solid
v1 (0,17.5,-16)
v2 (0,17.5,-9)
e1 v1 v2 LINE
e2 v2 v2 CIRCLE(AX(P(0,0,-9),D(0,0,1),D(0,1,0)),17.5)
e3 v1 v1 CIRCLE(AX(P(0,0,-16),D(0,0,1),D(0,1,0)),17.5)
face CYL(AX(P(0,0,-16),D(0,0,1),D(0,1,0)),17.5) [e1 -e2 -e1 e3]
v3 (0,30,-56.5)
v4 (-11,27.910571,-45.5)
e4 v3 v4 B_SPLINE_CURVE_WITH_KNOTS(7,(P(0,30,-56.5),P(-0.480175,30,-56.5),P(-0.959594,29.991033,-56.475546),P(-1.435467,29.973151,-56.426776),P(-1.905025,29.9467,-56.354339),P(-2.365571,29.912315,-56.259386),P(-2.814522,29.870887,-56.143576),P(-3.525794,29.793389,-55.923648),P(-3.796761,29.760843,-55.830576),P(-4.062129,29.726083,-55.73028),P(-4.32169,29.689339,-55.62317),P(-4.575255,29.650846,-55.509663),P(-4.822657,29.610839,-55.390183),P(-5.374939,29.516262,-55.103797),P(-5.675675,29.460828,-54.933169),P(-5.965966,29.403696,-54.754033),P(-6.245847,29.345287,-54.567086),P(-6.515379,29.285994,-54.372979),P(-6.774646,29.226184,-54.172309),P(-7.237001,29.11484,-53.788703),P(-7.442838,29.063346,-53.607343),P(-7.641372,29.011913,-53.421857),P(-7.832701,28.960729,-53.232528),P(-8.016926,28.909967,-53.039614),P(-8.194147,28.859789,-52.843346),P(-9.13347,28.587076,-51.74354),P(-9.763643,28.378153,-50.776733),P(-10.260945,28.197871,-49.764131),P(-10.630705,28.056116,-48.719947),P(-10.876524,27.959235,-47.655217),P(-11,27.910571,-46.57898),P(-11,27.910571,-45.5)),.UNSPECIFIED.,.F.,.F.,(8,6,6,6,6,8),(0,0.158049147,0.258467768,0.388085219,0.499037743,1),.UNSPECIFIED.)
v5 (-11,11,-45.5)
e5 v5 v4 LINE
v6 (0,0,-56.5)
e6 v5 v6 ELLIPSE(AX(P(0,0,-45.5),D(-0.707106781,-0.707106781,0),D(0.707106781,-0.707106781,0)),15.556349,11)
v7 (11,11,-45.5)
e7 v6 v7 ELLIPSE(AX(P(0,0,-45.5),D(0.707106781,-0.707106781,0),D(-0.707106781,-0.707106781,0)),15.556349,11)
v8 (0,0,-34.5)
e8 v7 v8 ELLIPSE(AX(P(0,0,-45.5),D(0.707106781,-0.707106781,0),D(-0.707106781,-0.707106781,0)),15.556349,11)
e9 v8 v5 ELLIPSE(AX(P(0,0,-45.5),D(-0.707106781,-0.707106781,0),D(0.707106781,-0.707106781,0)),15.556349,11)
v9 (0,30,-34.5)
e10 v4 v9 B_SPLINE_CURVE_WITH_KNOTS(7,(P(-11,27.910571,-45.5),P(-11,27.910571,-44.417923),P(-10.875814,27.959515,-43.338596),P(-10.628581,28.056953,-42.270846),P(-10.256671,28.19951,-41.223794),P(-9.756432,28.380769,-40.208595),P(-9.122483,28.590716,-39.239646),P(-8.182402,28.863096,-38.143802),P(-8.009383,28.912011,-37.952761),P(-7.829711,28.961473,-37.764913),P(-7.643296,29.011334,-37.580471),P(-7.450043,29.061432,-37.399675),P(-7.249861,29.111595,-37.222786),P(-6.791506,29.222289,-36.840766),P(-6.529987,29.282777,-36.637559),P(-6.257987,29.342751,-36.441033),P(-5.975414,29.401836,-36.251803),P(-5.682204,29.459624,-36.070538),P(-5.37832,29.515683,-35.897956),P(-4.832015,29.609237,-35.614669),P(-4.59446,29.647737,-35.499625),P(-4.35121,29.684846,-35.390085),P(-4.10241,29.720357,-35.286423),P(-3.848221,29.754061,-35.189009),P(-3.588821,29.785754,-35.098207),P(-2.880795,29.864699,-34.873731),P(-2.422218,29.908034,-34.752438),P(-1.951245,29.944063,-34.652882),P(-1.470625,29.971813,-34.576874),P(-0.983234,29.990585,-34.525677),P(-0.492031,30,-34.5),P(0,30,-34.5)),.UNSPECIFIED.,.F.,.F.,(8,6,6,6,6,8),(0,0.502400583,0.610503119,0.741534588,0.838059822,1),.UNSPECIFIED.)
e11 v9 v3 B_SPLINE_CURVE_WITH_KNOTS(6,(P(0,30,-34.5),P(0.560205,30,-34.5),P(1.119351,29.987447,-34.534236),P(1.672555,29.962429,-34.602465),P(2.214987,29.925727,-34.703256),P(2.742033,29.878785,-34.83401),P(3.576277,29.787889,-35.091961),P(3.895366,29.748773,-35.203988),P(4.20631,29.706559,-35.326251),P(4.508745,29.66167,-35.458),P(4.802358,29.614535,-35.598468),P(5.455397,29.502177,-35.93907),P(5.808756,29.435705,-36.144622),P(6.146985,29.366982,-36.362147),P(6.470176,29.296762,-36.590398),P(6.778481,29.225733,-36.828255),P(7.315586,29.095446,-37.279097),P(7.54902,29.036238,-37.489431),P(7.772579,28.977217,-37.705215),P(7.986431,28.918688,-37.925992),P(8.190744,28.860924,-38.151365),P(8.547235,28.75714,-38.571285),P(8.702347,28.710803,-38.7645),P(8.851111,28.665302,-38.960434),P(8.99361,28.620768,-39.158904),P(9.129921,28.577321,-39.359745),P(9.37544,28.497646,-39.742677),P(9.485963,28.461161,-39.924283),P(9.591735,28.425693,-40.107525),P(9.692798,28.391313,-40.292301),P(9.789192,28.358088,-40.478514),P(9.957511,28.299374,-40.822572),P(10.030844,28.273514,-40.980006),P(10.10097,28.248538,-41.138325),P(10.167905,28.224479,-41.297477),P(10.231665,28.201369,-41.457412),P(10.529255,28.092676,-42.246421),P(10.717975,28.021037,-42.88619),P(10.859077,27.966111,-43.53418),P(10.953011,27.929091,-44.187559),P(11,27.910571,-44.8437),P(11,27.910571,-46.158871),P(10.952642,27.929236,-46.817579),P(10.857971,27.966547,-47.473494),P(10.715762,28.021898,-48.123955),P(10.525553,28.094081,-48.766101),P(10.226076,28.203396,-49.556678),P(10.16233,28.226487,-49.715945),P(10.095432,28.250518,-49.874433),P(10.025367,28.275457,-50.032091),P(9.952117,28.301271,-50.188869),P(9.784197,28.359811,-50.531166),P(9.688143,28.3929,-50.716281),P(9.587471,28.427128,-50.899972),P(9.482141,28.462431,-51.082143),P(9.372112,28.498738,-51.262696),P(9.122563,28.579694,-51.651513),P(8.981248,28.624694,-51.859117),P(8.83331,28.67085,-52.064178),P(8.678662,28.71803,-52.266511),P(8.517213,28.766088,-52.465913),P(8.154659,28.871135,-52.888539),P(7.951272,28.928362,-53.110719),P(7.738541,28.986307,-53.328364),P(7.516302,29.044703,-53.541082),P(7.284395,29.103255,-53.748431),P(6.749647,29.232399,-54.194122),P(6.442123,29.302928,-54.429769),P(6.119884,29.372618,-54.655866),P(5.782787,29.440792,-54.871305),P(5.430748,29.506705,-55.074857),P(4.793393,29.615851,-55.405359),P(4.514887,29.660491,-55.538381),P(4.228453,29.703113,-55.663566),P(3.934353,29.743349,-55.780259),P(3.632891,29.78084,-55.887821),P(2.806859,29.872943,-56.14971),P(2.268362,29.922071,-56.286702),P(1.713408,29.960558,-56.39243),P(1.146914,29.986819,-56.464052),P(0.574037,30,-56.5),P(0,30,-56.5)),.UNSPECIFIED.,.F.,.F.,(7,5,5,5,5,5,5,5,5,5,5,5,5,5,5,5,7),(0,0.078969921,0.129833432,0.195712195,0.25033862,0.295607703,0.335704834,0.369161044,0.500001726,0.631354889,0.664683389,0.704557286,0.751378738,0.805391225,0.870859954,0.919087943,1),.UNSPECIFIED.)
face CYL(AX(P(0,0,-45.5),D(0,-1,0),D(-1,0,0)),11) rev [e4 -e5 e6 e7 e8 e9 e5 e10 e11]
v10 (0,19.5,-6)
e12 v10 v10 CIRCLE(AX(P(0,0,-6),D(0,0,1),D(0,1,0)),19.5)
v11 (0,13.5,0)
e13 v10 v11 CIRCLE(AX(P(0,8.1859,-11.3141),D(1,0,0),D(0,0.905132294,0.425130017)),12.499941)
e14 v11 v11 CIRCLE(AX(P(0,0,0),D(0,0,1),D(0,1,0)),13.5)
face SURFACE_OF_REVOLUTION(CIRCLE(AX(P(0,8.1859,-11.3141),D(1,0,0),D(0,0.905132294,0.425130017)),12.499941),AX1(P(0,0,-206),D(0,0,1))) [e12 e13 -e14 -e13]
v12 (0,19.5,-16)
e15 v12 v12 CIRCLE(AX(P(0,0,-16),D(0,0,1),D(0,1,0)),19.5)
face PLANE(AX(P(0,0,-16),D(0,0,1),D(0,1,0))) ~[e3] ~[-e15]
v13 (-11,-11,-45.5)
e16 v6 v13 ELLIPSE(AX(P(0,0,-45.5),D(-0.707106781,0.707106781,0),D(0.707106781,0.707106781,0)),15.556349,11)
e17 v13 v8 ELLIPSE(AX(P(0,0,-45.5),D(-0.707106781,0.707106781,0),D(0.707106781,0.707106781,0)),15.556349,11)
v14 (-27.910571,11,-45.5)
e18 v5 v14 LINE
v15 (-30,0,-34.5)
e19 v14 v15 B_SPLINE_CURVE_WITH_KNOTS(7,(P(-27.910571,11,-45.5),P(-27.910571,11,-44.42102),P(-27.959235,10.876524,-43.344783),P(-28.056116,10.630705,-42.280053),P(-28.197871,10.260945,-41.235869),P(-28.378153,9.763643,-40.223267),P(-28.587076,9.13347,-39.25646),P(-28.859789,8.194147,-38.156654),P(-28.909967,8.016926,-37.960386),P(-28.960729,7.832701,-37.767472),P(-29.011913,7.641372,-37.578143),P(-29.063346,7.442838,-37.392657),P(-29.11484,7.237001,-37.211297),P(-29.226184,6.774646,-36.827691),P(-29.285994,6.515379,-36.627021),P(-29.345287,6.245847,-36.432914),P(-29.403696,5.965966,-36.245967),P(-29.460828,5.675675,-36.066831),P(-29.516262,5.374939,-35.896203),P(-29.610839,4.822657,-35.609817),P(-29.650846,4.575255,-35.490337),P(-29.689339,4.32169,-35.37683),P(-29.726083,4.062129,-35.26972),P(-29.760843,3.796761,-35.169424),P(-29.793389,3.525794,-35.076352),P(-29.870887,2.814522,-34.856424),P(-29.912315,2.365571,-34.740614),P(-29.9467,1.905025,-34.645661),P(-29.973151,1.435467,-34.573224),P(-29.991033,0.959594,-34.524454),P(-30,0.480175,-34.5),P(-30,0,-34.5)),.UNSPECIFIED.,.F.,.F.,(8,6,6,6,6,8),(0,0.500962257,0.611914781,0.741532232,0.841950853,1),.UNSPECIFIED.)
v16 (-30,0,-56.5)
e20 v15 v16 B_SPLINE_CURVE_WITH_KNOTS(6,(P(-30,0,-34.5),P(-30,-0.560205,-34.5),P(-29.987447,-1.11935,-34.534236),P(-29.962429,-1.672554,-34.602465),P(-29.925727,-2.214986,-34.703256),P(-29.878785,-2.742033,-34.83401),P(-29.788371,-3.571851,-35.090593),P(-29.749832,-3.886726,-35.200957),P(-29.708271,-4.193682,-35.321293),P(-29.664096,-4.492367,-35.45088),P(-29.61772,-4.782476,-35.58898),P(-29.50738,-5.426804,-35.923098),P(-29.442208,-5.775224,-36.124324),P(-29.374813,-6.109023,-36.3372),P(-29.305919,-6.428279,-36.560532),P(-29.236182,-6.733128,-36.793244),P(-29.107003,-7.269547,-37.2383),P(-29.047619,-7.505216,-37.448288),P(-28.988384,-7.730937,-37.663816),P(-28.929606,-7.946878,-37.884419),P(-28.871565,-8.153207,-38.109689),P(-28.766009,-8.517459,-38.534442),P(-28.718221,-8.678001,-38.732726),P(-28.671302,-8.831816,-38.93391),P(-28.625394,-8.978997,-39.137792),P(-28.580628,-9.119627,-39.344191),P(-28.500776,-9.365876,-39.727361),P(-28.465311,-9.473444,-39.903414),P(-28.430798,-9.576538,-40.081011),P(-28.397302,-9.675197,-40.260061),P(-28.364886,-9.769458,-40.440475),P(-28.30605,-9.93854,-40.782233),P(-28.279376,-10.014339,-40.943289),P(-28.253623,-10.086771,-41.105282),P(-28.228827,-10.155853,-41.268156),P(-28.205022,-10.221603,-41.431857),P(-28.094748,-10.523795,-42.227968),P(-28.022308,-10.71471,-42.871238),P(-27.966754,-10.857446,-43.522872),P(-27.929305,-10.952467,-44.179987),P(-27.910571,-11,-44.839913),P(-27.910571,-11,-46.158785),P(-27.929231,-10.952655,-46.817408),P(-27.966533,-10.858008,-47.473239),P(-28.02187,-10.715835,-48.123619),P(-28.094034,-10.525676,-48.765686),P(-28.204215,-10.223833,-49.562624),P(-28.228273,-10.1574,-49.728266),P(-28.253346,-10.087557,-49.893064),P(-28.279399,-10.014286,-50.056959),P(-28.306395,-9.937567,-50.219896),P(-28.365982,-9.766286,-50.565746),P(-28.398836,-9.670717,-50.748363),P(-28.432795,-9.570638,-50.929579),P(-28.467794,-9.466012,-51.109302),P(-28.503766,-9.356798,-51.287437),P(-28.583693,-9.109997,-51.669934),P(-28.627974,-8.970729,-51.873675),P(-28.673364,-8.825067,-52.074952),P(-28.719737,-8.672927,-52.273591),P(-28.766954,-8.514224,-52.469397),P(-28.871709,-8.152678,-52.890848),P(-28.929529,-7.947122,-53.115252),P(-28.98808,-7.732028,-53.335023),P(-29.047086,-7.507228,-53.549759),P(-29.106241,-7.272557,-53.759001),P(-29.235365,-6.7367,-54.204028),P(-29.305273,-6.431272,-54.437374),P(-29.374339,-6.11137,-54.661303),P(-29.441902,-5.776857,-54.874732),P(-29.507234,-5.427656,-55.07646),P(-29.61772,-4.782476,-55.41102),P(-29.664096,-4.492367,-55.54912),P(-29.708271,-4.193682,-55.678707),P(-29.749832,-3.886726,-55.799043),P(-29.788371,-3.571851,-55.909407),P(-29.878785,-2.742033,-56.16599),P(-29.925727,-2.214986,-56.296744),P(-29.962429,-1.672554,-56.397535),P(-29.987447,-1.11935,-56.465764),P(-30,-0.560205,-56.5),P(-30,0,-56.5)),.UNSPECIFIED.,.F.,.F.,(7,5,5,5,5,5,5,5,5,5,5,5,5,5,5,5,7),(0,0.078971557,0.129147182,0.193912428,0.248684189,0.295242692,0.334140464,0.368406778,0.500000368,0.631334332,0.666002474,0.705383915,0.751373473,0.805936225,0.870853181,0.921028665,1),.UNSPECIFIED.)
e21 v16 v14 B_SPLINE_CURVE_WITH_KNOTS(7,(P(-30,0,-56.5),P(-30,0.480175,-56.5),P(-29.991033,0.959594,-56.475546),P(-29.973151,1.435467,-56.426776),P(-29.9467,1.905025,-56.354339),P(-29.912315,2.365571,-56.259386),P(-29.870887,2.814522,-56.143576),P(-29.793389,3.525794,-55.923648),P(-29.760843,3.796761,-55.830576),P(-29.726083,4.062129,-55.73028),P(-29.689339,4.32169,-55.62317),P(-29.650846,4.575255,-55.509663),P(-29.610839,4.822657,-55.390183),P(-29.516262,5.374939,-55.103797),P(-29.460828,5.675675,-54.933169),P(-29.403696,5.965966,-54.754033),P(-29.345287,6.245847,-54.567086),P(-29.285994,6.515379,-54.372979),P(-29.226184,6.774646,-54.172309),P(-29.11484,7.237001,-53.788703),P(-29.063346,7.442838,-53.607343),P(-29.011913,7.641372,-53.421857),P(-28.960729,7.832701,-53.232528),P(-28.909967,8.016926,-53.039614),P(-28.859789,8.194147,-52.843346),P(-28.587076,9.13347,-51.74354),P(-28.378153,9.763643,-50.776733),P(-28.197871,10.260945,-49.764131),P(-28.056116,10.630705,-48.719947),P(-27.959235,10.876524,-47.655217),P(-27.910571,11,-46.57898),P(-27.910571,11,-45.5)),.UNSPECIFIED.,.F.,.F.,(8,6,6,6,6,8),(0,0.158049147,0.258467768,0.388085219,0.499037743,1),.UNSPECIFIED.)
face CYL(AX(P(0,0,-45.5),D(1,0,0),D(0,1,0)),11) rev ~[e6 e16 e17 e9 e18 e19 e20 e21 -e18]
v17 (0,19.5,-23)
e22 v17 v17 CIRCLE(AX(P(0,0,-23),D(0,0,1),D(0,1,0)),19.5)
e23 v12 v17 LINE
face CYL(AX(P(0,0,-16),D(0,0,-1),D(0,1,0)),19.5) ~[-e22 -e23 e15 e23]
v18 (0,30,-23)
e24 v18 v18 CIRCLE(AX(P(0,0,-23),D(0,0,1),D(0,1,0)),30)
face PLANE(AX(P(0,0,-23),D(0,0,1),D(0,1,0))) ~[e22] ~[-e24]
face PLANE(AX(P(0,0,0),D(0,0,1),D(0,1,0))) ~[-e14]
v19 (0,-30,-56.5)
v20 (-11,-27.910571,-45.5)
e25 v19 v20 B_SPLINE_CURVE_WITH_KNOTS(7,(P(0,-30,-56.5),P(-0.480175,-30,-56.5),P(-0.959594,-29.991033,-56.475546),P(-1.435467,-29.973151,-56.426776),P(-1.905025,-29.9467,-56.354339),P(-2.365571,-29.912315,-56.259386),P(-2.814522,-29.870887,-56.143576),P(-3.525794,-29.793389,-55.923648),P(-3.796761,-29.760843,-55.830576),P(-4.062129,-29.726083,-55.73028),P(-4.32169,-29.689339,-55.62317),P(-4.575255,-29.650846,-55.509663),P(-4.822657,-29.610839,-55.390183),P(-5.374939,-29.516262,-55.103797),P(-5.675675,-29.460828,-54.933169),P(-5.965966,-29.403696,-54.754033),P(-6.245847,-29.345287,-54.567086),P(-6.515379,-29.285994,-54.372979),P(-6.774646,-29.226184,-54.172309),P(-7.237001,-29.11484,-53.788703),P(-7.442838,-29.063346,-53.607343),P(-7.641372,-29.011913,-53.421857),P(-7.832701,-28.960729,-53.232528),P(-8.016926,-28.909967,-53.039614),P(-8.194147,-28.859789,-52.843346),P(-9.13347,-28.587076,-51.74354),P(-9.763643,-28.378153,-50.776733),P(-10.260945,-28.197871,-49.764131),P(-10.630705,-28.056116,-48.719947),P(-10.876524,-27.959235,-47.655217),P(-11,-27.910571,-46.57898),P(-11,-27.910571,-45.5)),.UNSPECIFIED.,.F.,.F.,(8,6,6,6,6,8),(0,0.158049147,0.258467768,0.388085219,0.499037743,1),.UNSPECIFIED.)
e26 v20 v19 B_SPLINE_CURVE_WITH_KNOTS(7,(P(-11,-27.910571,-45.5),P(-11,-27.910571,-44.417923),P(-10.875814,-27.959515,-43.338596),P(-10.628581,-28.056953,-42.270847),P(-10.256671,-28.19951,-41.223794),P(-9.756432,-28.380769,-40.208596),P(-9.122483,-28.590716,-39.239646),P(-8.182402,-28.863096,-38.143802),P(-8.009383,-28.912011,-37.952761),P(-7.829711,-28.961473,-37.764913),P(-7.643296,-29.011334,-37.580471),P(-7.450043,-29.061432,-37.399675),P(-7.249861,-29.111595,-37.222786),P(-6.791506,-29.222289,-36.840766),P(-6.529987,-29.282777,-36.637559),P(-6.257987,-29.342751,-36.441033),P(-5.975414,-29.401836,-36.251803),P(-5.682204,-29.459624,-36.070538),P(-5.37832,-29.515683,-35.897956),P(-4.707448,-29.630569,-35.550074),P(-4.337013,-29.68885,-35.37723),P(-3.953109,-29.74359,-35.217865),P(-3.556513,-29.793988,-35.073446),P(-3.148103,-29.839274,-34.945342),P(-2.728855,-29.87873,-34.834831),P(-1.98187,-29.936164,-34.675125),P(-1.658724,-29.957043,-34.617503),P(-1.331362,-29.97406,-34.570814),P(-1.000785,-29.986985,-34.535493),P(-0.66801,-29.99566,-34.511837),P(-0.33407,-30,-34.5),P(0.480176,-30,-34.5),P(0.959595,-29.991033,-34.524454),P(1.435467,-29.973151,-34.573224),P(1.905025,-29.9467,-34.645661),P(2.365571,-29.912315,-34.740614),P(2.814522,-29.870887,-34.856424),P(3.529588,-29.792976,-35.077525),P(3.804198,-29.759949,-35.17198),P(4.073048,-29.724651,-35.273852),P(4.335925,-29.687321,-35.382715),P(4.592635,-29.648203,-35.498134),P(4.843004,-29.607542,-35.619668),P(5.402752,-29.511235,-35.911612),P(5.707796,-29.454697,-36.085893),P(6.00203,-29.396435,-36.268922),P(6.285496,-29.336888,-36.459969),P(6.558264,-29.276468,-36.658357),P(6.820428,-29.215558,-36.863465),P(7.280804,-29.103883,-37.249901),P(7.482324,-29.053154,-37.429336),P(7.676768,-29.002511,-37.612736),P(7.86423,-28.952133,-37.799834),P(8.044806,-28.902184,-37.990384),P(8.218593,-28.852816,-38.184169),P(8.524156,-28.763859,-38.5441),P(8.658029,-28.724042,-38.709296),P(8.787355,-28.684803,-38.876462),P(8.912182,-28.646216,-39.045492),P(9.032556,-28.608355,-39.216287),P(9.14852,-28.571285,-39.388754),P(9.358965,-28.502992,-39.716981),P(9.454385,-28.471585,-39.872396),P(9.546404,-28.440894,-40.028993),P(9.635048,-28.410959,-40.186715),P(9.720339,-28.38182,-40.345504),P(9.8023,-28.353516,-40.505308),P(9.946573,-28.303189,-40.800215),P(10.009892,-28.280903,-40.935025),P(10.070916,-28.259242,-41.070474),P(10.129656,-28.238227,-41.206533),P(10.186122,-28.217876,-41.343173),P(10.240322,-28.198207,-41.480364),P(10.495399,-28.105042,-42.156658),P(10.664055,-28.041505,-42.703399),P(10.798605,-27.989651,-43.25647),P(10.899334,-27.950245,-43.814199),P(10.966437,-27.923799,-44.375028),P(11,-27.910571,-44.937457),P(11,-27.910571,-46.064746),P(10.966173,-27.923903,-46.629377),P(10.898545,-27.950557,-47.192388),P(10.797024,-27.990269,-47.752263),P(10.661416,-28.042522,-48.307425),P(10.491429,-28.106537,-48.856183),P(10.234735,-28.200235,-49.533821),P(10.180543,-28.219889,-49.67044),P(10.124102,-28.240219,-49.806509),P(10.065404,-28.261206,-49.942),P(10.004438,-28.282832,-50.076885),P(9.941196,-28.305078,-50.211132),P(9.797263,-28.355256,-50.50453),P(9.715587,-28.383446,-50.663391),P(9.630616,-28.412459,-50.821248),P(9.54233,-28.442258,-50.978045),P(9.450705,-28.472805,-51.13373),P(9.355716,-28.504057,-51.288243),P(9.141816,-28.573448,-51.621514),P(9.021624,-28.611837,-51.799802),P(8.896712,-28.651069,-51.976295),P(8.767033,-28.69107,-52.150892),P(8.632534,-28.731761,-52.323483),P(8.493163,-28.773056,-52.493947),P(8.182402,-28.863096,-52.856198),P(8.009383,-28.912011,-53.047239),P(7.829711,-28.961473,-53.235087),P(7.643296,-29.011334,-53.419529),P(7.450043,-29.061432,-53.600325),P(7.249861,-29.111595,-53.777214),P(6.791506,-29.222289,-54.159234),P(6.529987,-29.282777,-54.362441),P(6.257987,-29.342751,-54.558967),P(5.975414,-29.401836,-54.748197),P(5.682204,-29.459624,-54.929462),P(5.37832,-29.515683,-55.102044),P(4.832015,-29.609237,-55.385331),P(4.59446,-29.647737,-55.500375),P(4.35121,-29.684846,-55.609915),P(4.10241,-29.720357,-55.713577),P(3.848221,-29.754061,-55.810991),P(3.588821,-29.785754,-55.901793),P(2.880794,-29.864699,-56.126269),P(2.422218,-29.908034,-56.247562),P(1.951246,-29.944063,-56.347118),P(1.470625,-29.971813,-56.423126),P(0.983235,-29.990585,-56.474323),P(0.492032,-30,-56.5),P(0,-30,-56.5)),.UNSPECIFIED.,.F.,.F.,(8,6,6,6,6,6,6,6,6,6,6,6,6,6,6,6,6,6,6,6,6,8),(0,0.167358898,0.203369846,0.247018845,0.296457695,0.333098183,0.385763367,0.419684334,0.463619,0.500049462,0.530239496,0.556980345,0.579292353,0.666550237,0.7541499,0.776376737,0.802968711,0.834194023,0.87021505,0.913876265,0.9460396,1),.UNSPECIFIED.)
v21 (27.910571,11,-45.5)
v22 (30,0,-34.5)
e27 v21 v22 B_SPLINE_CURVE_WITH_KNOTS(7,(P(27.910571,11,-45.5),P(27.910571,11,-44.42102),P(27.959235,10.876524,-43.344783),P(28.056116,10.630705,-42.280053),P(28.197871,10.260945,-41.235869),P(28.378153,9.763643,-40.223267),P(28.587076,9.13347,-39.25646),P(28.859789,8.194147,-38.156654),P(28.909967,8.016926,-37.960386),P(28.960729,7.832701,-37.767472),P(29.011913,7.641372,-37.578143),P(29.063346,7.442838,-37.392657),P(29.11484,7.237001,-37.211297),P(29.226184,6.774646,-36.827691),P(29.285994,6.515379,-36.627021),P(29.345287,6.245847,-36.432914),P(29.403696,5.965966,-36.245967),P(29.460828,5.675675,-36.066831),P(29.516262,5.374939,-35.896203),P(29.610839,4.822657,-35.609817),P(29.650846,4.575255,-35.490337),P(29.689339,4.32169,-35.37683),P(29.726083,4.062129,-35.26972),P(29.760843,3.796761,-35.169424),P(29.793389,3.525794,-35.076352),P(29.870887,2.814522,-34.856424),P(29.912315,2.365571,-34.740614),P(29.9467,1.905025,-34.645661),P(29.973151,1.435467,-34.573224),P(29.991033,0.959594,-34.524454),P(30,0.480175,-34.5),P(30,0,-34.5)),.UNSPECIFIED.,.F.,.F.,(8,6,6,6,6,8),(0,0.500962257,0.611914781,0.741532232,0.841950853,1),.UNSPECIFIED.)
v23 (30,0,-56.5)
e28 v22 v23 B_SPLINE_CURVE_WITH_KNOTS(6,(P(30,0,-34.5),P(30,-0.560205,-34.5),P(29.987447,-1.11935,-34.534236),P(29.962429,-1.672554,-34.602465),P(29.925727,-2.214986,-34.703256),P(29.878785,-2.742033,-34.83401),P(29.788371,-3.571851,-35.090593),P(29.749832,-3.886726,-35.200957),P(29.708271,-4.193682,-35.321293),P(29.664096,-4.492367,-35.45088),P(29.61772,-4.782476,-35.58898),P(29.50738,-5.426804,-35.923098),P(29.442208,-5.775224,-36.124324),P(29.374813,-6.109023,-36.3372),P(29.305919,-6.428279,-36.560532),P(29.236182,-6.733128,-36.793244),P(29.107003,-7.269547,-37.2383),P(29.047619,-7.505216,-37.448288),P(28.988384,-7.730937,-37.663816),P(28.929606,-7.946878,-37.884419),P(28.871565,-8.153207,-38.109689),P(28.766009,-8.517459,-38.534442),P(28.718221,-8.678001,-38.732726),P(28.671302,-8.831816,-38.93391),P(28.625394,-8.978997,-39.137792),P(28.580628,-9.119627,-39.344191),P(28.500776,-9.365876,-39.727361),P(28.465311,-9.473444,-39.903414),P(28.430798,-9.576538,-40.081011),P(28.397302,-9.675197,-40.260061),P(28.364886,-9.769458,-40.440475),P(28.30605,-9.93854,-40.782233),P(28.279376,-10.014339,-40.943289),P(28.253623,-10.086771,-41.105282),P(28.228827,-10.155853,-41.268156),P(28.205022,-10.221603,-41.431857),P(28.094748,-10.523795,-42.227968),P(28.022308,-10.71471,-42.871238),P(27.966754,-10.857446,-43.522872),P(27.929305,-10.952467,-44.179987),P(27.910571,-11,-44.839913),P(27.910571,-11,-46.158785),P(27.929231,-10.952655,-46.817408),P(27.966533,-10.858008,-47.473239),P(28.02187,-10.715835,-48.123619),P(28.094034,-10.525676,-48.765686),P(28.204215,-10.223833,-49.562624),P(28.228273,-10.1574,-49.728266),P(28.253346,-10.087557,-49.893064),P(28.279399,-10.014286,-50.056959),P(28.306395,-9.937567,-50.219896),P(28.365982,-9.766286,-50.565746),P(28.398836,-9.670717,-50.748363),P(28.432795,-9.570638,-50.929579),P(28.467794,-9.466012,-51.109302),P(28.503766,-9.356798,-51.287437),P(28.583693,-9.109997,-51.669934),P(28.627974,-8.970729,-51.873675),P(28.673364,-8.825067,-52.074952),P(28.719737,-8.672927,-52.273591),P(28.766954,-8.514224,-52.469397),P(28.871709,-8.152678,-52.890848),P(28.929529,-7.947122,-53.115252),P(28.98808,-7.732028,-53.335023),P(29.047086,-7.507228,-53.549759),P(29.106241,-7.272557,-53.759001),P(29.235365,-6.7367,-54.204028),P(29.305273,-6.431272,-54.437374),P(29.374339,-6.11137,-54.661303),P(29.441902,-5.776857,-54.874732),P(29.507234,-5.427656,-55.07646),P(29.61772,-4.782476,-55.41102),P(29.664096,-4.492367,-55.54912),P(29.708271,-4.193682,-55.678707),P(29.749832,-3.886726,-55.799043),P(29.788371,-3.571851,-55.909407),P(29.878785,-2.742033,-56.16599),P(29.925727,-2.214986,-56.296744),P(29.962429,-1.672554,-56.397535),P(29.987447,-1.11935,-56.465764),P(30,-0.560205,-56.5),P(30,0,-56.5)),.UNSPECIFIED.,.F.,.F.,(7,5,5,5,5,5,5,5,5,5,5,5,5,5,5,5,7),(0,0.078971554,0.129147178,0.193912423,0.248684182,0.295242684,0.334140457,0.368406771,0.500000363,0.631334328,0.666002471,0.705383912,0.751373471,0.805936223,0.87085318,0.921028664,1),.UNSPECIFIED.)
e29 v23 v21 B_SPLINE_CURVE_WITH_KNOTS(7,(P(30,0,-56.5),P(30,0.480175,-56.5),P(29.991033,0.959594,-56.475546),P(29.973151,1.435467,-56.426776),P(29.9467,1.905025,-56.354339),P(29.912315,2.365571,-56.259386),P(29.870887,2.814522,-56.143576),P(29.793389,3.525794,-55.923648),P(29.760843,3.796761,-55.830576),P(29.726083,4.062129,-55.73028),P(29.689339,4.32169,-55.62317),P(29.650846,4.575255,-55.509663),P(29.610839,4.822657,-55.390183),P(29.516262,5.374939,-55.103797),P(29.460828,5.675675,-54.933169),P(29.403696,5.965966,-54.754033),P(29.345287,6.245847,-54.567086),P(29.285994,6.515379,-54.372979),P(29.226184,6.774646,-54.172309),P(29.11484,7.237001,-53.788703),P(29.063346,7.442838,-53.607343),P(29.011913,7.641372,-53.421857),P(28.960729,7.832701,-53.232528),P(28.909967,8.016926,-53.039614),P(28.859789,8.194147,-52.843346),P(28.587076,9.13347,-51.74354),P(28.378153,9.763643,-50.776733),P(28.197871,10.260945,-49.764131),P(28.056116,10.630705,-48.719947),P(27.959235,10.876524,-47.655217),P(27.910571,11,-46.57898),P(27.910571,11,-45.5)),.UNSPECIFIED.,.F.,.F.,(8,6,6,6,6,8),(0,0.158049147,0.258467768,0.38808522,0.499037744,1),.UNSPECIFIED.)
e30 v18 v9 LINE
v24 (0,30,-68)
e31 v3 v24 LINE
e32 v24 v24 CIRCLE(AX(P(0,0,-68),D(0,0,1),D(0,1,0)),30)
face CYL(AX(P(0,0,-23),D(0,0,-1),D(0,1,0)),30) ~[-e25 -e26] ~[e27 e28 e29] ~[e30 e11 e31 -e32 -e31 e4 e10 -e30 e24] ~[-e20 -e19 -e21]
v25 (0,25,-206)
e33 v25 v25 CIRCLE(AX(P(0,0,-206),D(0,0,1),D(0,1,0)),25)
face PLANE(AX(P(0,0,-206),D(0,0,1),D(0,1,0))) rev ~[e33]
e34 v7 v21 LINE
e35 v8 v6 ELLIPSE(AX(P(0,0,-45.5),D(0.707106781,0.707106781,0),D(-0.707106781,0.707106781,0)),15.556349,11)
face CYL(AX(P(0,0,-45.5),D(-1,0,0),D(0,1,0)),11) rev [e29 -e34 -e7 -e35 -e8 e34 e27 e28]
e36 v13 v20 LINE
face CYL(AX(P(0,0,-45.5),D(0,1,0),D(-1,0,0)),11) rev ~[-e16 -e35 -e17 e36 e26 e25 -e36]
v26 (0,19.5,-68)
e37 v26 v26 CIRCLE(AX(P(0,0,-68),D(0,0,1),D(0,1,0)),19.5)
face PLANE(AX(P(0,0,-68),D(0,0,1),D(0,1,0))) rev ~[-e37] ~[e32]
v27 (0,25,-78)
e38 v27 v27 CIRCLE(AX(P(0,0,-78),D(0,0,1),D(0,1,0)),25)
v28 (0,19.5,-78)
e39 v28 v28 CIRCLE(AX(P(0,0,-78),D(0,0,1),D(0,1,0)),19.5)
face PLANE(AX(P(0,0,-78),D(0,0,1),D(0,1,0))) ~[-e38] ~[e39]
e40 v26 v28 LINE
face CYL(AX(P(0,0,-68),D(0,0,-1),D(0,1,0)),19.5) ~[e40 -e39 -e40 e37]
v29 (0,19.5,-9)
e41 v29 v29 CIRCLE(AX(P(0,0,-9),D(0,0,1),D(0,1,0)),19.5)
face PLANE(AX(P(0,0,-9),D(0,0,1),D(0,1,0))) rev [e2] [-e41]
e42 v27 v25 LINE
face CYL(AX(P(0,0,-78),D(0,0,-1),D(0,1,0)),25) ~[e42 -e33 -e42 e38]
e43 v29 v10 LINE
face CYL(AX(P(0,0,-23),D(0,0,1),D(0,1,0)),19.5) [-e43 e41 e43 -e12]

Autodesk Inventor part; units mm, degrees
ref_plane "YZ Plane" through (0, 0, 0) normal (1, 0, 0) x (0, 1, 0)
ref_plane "XZ Plane" through (0, 0, 0) normal (0, 1, 0) x (-1, 0, 0)
ref_plane "XY Plane" through (0, 0, 0) normal (0, 0, 1) x (1, 0, 0)
sketch "草图1" plane through (0, 0, 0) normal (1, 0, 0) x (0, 1, 0)
  line L0 (19.5, -23) -> (30, -23)
  line L1 (30, -23) -> (30, -68)
  line L2 (30, -68) -> (19.5, -68)
  line L3 (19.5, -68) -> (19.5, -78)
  line L4 (19.5, -78) -> (25, -78)
  line L5 (25, -78) -> (25, -206)
  line L6 (25, -206) -> (0, -206)
  line L7 (0, -206) -> (0, 0)
  line L8 (17.5, -16) -> (17.5, -9)
  line L9 (17.5, -9) -> (19.5, -9)
  line L10 (17.5, -16) -> (19.5, -16)
  line L11 (19.5, -16) -> (19.5, -23)
  line L12 (19.5, -23) -> (19.5, -6)
  line L13 (0, 0) -> (13.5, 0)
  arc A0 (19.5, -6) -> (13.5, 0) centre (8.1859, -11.3141) ccw
  dimension "d2" = 10.5
  dimension "d3" = 45
  dimension "d4" = 10.5
  dimension "d5" = 10
  dimension "d6" = 5.5
  dimension "d7" = 128
  dimension "d10" = 7
  dimension "d11" = 17
  dimension "d14" = 13.5
  dimension "d15" = 25
revolve "旋转1" add sketch "草图1" angle 360 about axis through (0, 0, -206) along (0, 0, 1) contours L0 L1 L2 L3 L4 L5 L6 L7 L13 A0 L12 L9 L8 L10 L11
sketch "草图2" plane through (0, 0, 0) normal (0, 1, 0) x (-1, 0, 0)
  line L0 (-19.5, -68) -> (19.5, -68) projected
  line L1 (0, -68) -> (0, -45.5)
  circle A0 centre (0, -45.5) radius 11
  point P0 (0, 0)
  dimension "d17" = 22.5
  dimension "d18" = 22
extrude "拉伸1" cut sketch "草图2" along normal blind 100 and the other way blind 100
thread "螺纹1" size "M50x4" class "6g" standard "ANSI Metric M Profile" full length
sketch "草图3" plane through (0, 0, 0) normal (1, 0, 0) x (0, 1, 0)
  line L0 (-19.5, -68) -> (19.5, -68) projected
  line L1 (0, -68) -> (0, -45.5)
  circle A0 centre (0, -45.5) radius 11
  line L2 (-30, -34.5) -> (30, -34.5) projected
  point P0 (0, 0)
  dimension "d25" = 22.5
  dimension "d26" = 22
extrude "拉伸2" cut sketch "草图3" along normal blind 100 and the other way blind 50
properties part number "螺杆"
